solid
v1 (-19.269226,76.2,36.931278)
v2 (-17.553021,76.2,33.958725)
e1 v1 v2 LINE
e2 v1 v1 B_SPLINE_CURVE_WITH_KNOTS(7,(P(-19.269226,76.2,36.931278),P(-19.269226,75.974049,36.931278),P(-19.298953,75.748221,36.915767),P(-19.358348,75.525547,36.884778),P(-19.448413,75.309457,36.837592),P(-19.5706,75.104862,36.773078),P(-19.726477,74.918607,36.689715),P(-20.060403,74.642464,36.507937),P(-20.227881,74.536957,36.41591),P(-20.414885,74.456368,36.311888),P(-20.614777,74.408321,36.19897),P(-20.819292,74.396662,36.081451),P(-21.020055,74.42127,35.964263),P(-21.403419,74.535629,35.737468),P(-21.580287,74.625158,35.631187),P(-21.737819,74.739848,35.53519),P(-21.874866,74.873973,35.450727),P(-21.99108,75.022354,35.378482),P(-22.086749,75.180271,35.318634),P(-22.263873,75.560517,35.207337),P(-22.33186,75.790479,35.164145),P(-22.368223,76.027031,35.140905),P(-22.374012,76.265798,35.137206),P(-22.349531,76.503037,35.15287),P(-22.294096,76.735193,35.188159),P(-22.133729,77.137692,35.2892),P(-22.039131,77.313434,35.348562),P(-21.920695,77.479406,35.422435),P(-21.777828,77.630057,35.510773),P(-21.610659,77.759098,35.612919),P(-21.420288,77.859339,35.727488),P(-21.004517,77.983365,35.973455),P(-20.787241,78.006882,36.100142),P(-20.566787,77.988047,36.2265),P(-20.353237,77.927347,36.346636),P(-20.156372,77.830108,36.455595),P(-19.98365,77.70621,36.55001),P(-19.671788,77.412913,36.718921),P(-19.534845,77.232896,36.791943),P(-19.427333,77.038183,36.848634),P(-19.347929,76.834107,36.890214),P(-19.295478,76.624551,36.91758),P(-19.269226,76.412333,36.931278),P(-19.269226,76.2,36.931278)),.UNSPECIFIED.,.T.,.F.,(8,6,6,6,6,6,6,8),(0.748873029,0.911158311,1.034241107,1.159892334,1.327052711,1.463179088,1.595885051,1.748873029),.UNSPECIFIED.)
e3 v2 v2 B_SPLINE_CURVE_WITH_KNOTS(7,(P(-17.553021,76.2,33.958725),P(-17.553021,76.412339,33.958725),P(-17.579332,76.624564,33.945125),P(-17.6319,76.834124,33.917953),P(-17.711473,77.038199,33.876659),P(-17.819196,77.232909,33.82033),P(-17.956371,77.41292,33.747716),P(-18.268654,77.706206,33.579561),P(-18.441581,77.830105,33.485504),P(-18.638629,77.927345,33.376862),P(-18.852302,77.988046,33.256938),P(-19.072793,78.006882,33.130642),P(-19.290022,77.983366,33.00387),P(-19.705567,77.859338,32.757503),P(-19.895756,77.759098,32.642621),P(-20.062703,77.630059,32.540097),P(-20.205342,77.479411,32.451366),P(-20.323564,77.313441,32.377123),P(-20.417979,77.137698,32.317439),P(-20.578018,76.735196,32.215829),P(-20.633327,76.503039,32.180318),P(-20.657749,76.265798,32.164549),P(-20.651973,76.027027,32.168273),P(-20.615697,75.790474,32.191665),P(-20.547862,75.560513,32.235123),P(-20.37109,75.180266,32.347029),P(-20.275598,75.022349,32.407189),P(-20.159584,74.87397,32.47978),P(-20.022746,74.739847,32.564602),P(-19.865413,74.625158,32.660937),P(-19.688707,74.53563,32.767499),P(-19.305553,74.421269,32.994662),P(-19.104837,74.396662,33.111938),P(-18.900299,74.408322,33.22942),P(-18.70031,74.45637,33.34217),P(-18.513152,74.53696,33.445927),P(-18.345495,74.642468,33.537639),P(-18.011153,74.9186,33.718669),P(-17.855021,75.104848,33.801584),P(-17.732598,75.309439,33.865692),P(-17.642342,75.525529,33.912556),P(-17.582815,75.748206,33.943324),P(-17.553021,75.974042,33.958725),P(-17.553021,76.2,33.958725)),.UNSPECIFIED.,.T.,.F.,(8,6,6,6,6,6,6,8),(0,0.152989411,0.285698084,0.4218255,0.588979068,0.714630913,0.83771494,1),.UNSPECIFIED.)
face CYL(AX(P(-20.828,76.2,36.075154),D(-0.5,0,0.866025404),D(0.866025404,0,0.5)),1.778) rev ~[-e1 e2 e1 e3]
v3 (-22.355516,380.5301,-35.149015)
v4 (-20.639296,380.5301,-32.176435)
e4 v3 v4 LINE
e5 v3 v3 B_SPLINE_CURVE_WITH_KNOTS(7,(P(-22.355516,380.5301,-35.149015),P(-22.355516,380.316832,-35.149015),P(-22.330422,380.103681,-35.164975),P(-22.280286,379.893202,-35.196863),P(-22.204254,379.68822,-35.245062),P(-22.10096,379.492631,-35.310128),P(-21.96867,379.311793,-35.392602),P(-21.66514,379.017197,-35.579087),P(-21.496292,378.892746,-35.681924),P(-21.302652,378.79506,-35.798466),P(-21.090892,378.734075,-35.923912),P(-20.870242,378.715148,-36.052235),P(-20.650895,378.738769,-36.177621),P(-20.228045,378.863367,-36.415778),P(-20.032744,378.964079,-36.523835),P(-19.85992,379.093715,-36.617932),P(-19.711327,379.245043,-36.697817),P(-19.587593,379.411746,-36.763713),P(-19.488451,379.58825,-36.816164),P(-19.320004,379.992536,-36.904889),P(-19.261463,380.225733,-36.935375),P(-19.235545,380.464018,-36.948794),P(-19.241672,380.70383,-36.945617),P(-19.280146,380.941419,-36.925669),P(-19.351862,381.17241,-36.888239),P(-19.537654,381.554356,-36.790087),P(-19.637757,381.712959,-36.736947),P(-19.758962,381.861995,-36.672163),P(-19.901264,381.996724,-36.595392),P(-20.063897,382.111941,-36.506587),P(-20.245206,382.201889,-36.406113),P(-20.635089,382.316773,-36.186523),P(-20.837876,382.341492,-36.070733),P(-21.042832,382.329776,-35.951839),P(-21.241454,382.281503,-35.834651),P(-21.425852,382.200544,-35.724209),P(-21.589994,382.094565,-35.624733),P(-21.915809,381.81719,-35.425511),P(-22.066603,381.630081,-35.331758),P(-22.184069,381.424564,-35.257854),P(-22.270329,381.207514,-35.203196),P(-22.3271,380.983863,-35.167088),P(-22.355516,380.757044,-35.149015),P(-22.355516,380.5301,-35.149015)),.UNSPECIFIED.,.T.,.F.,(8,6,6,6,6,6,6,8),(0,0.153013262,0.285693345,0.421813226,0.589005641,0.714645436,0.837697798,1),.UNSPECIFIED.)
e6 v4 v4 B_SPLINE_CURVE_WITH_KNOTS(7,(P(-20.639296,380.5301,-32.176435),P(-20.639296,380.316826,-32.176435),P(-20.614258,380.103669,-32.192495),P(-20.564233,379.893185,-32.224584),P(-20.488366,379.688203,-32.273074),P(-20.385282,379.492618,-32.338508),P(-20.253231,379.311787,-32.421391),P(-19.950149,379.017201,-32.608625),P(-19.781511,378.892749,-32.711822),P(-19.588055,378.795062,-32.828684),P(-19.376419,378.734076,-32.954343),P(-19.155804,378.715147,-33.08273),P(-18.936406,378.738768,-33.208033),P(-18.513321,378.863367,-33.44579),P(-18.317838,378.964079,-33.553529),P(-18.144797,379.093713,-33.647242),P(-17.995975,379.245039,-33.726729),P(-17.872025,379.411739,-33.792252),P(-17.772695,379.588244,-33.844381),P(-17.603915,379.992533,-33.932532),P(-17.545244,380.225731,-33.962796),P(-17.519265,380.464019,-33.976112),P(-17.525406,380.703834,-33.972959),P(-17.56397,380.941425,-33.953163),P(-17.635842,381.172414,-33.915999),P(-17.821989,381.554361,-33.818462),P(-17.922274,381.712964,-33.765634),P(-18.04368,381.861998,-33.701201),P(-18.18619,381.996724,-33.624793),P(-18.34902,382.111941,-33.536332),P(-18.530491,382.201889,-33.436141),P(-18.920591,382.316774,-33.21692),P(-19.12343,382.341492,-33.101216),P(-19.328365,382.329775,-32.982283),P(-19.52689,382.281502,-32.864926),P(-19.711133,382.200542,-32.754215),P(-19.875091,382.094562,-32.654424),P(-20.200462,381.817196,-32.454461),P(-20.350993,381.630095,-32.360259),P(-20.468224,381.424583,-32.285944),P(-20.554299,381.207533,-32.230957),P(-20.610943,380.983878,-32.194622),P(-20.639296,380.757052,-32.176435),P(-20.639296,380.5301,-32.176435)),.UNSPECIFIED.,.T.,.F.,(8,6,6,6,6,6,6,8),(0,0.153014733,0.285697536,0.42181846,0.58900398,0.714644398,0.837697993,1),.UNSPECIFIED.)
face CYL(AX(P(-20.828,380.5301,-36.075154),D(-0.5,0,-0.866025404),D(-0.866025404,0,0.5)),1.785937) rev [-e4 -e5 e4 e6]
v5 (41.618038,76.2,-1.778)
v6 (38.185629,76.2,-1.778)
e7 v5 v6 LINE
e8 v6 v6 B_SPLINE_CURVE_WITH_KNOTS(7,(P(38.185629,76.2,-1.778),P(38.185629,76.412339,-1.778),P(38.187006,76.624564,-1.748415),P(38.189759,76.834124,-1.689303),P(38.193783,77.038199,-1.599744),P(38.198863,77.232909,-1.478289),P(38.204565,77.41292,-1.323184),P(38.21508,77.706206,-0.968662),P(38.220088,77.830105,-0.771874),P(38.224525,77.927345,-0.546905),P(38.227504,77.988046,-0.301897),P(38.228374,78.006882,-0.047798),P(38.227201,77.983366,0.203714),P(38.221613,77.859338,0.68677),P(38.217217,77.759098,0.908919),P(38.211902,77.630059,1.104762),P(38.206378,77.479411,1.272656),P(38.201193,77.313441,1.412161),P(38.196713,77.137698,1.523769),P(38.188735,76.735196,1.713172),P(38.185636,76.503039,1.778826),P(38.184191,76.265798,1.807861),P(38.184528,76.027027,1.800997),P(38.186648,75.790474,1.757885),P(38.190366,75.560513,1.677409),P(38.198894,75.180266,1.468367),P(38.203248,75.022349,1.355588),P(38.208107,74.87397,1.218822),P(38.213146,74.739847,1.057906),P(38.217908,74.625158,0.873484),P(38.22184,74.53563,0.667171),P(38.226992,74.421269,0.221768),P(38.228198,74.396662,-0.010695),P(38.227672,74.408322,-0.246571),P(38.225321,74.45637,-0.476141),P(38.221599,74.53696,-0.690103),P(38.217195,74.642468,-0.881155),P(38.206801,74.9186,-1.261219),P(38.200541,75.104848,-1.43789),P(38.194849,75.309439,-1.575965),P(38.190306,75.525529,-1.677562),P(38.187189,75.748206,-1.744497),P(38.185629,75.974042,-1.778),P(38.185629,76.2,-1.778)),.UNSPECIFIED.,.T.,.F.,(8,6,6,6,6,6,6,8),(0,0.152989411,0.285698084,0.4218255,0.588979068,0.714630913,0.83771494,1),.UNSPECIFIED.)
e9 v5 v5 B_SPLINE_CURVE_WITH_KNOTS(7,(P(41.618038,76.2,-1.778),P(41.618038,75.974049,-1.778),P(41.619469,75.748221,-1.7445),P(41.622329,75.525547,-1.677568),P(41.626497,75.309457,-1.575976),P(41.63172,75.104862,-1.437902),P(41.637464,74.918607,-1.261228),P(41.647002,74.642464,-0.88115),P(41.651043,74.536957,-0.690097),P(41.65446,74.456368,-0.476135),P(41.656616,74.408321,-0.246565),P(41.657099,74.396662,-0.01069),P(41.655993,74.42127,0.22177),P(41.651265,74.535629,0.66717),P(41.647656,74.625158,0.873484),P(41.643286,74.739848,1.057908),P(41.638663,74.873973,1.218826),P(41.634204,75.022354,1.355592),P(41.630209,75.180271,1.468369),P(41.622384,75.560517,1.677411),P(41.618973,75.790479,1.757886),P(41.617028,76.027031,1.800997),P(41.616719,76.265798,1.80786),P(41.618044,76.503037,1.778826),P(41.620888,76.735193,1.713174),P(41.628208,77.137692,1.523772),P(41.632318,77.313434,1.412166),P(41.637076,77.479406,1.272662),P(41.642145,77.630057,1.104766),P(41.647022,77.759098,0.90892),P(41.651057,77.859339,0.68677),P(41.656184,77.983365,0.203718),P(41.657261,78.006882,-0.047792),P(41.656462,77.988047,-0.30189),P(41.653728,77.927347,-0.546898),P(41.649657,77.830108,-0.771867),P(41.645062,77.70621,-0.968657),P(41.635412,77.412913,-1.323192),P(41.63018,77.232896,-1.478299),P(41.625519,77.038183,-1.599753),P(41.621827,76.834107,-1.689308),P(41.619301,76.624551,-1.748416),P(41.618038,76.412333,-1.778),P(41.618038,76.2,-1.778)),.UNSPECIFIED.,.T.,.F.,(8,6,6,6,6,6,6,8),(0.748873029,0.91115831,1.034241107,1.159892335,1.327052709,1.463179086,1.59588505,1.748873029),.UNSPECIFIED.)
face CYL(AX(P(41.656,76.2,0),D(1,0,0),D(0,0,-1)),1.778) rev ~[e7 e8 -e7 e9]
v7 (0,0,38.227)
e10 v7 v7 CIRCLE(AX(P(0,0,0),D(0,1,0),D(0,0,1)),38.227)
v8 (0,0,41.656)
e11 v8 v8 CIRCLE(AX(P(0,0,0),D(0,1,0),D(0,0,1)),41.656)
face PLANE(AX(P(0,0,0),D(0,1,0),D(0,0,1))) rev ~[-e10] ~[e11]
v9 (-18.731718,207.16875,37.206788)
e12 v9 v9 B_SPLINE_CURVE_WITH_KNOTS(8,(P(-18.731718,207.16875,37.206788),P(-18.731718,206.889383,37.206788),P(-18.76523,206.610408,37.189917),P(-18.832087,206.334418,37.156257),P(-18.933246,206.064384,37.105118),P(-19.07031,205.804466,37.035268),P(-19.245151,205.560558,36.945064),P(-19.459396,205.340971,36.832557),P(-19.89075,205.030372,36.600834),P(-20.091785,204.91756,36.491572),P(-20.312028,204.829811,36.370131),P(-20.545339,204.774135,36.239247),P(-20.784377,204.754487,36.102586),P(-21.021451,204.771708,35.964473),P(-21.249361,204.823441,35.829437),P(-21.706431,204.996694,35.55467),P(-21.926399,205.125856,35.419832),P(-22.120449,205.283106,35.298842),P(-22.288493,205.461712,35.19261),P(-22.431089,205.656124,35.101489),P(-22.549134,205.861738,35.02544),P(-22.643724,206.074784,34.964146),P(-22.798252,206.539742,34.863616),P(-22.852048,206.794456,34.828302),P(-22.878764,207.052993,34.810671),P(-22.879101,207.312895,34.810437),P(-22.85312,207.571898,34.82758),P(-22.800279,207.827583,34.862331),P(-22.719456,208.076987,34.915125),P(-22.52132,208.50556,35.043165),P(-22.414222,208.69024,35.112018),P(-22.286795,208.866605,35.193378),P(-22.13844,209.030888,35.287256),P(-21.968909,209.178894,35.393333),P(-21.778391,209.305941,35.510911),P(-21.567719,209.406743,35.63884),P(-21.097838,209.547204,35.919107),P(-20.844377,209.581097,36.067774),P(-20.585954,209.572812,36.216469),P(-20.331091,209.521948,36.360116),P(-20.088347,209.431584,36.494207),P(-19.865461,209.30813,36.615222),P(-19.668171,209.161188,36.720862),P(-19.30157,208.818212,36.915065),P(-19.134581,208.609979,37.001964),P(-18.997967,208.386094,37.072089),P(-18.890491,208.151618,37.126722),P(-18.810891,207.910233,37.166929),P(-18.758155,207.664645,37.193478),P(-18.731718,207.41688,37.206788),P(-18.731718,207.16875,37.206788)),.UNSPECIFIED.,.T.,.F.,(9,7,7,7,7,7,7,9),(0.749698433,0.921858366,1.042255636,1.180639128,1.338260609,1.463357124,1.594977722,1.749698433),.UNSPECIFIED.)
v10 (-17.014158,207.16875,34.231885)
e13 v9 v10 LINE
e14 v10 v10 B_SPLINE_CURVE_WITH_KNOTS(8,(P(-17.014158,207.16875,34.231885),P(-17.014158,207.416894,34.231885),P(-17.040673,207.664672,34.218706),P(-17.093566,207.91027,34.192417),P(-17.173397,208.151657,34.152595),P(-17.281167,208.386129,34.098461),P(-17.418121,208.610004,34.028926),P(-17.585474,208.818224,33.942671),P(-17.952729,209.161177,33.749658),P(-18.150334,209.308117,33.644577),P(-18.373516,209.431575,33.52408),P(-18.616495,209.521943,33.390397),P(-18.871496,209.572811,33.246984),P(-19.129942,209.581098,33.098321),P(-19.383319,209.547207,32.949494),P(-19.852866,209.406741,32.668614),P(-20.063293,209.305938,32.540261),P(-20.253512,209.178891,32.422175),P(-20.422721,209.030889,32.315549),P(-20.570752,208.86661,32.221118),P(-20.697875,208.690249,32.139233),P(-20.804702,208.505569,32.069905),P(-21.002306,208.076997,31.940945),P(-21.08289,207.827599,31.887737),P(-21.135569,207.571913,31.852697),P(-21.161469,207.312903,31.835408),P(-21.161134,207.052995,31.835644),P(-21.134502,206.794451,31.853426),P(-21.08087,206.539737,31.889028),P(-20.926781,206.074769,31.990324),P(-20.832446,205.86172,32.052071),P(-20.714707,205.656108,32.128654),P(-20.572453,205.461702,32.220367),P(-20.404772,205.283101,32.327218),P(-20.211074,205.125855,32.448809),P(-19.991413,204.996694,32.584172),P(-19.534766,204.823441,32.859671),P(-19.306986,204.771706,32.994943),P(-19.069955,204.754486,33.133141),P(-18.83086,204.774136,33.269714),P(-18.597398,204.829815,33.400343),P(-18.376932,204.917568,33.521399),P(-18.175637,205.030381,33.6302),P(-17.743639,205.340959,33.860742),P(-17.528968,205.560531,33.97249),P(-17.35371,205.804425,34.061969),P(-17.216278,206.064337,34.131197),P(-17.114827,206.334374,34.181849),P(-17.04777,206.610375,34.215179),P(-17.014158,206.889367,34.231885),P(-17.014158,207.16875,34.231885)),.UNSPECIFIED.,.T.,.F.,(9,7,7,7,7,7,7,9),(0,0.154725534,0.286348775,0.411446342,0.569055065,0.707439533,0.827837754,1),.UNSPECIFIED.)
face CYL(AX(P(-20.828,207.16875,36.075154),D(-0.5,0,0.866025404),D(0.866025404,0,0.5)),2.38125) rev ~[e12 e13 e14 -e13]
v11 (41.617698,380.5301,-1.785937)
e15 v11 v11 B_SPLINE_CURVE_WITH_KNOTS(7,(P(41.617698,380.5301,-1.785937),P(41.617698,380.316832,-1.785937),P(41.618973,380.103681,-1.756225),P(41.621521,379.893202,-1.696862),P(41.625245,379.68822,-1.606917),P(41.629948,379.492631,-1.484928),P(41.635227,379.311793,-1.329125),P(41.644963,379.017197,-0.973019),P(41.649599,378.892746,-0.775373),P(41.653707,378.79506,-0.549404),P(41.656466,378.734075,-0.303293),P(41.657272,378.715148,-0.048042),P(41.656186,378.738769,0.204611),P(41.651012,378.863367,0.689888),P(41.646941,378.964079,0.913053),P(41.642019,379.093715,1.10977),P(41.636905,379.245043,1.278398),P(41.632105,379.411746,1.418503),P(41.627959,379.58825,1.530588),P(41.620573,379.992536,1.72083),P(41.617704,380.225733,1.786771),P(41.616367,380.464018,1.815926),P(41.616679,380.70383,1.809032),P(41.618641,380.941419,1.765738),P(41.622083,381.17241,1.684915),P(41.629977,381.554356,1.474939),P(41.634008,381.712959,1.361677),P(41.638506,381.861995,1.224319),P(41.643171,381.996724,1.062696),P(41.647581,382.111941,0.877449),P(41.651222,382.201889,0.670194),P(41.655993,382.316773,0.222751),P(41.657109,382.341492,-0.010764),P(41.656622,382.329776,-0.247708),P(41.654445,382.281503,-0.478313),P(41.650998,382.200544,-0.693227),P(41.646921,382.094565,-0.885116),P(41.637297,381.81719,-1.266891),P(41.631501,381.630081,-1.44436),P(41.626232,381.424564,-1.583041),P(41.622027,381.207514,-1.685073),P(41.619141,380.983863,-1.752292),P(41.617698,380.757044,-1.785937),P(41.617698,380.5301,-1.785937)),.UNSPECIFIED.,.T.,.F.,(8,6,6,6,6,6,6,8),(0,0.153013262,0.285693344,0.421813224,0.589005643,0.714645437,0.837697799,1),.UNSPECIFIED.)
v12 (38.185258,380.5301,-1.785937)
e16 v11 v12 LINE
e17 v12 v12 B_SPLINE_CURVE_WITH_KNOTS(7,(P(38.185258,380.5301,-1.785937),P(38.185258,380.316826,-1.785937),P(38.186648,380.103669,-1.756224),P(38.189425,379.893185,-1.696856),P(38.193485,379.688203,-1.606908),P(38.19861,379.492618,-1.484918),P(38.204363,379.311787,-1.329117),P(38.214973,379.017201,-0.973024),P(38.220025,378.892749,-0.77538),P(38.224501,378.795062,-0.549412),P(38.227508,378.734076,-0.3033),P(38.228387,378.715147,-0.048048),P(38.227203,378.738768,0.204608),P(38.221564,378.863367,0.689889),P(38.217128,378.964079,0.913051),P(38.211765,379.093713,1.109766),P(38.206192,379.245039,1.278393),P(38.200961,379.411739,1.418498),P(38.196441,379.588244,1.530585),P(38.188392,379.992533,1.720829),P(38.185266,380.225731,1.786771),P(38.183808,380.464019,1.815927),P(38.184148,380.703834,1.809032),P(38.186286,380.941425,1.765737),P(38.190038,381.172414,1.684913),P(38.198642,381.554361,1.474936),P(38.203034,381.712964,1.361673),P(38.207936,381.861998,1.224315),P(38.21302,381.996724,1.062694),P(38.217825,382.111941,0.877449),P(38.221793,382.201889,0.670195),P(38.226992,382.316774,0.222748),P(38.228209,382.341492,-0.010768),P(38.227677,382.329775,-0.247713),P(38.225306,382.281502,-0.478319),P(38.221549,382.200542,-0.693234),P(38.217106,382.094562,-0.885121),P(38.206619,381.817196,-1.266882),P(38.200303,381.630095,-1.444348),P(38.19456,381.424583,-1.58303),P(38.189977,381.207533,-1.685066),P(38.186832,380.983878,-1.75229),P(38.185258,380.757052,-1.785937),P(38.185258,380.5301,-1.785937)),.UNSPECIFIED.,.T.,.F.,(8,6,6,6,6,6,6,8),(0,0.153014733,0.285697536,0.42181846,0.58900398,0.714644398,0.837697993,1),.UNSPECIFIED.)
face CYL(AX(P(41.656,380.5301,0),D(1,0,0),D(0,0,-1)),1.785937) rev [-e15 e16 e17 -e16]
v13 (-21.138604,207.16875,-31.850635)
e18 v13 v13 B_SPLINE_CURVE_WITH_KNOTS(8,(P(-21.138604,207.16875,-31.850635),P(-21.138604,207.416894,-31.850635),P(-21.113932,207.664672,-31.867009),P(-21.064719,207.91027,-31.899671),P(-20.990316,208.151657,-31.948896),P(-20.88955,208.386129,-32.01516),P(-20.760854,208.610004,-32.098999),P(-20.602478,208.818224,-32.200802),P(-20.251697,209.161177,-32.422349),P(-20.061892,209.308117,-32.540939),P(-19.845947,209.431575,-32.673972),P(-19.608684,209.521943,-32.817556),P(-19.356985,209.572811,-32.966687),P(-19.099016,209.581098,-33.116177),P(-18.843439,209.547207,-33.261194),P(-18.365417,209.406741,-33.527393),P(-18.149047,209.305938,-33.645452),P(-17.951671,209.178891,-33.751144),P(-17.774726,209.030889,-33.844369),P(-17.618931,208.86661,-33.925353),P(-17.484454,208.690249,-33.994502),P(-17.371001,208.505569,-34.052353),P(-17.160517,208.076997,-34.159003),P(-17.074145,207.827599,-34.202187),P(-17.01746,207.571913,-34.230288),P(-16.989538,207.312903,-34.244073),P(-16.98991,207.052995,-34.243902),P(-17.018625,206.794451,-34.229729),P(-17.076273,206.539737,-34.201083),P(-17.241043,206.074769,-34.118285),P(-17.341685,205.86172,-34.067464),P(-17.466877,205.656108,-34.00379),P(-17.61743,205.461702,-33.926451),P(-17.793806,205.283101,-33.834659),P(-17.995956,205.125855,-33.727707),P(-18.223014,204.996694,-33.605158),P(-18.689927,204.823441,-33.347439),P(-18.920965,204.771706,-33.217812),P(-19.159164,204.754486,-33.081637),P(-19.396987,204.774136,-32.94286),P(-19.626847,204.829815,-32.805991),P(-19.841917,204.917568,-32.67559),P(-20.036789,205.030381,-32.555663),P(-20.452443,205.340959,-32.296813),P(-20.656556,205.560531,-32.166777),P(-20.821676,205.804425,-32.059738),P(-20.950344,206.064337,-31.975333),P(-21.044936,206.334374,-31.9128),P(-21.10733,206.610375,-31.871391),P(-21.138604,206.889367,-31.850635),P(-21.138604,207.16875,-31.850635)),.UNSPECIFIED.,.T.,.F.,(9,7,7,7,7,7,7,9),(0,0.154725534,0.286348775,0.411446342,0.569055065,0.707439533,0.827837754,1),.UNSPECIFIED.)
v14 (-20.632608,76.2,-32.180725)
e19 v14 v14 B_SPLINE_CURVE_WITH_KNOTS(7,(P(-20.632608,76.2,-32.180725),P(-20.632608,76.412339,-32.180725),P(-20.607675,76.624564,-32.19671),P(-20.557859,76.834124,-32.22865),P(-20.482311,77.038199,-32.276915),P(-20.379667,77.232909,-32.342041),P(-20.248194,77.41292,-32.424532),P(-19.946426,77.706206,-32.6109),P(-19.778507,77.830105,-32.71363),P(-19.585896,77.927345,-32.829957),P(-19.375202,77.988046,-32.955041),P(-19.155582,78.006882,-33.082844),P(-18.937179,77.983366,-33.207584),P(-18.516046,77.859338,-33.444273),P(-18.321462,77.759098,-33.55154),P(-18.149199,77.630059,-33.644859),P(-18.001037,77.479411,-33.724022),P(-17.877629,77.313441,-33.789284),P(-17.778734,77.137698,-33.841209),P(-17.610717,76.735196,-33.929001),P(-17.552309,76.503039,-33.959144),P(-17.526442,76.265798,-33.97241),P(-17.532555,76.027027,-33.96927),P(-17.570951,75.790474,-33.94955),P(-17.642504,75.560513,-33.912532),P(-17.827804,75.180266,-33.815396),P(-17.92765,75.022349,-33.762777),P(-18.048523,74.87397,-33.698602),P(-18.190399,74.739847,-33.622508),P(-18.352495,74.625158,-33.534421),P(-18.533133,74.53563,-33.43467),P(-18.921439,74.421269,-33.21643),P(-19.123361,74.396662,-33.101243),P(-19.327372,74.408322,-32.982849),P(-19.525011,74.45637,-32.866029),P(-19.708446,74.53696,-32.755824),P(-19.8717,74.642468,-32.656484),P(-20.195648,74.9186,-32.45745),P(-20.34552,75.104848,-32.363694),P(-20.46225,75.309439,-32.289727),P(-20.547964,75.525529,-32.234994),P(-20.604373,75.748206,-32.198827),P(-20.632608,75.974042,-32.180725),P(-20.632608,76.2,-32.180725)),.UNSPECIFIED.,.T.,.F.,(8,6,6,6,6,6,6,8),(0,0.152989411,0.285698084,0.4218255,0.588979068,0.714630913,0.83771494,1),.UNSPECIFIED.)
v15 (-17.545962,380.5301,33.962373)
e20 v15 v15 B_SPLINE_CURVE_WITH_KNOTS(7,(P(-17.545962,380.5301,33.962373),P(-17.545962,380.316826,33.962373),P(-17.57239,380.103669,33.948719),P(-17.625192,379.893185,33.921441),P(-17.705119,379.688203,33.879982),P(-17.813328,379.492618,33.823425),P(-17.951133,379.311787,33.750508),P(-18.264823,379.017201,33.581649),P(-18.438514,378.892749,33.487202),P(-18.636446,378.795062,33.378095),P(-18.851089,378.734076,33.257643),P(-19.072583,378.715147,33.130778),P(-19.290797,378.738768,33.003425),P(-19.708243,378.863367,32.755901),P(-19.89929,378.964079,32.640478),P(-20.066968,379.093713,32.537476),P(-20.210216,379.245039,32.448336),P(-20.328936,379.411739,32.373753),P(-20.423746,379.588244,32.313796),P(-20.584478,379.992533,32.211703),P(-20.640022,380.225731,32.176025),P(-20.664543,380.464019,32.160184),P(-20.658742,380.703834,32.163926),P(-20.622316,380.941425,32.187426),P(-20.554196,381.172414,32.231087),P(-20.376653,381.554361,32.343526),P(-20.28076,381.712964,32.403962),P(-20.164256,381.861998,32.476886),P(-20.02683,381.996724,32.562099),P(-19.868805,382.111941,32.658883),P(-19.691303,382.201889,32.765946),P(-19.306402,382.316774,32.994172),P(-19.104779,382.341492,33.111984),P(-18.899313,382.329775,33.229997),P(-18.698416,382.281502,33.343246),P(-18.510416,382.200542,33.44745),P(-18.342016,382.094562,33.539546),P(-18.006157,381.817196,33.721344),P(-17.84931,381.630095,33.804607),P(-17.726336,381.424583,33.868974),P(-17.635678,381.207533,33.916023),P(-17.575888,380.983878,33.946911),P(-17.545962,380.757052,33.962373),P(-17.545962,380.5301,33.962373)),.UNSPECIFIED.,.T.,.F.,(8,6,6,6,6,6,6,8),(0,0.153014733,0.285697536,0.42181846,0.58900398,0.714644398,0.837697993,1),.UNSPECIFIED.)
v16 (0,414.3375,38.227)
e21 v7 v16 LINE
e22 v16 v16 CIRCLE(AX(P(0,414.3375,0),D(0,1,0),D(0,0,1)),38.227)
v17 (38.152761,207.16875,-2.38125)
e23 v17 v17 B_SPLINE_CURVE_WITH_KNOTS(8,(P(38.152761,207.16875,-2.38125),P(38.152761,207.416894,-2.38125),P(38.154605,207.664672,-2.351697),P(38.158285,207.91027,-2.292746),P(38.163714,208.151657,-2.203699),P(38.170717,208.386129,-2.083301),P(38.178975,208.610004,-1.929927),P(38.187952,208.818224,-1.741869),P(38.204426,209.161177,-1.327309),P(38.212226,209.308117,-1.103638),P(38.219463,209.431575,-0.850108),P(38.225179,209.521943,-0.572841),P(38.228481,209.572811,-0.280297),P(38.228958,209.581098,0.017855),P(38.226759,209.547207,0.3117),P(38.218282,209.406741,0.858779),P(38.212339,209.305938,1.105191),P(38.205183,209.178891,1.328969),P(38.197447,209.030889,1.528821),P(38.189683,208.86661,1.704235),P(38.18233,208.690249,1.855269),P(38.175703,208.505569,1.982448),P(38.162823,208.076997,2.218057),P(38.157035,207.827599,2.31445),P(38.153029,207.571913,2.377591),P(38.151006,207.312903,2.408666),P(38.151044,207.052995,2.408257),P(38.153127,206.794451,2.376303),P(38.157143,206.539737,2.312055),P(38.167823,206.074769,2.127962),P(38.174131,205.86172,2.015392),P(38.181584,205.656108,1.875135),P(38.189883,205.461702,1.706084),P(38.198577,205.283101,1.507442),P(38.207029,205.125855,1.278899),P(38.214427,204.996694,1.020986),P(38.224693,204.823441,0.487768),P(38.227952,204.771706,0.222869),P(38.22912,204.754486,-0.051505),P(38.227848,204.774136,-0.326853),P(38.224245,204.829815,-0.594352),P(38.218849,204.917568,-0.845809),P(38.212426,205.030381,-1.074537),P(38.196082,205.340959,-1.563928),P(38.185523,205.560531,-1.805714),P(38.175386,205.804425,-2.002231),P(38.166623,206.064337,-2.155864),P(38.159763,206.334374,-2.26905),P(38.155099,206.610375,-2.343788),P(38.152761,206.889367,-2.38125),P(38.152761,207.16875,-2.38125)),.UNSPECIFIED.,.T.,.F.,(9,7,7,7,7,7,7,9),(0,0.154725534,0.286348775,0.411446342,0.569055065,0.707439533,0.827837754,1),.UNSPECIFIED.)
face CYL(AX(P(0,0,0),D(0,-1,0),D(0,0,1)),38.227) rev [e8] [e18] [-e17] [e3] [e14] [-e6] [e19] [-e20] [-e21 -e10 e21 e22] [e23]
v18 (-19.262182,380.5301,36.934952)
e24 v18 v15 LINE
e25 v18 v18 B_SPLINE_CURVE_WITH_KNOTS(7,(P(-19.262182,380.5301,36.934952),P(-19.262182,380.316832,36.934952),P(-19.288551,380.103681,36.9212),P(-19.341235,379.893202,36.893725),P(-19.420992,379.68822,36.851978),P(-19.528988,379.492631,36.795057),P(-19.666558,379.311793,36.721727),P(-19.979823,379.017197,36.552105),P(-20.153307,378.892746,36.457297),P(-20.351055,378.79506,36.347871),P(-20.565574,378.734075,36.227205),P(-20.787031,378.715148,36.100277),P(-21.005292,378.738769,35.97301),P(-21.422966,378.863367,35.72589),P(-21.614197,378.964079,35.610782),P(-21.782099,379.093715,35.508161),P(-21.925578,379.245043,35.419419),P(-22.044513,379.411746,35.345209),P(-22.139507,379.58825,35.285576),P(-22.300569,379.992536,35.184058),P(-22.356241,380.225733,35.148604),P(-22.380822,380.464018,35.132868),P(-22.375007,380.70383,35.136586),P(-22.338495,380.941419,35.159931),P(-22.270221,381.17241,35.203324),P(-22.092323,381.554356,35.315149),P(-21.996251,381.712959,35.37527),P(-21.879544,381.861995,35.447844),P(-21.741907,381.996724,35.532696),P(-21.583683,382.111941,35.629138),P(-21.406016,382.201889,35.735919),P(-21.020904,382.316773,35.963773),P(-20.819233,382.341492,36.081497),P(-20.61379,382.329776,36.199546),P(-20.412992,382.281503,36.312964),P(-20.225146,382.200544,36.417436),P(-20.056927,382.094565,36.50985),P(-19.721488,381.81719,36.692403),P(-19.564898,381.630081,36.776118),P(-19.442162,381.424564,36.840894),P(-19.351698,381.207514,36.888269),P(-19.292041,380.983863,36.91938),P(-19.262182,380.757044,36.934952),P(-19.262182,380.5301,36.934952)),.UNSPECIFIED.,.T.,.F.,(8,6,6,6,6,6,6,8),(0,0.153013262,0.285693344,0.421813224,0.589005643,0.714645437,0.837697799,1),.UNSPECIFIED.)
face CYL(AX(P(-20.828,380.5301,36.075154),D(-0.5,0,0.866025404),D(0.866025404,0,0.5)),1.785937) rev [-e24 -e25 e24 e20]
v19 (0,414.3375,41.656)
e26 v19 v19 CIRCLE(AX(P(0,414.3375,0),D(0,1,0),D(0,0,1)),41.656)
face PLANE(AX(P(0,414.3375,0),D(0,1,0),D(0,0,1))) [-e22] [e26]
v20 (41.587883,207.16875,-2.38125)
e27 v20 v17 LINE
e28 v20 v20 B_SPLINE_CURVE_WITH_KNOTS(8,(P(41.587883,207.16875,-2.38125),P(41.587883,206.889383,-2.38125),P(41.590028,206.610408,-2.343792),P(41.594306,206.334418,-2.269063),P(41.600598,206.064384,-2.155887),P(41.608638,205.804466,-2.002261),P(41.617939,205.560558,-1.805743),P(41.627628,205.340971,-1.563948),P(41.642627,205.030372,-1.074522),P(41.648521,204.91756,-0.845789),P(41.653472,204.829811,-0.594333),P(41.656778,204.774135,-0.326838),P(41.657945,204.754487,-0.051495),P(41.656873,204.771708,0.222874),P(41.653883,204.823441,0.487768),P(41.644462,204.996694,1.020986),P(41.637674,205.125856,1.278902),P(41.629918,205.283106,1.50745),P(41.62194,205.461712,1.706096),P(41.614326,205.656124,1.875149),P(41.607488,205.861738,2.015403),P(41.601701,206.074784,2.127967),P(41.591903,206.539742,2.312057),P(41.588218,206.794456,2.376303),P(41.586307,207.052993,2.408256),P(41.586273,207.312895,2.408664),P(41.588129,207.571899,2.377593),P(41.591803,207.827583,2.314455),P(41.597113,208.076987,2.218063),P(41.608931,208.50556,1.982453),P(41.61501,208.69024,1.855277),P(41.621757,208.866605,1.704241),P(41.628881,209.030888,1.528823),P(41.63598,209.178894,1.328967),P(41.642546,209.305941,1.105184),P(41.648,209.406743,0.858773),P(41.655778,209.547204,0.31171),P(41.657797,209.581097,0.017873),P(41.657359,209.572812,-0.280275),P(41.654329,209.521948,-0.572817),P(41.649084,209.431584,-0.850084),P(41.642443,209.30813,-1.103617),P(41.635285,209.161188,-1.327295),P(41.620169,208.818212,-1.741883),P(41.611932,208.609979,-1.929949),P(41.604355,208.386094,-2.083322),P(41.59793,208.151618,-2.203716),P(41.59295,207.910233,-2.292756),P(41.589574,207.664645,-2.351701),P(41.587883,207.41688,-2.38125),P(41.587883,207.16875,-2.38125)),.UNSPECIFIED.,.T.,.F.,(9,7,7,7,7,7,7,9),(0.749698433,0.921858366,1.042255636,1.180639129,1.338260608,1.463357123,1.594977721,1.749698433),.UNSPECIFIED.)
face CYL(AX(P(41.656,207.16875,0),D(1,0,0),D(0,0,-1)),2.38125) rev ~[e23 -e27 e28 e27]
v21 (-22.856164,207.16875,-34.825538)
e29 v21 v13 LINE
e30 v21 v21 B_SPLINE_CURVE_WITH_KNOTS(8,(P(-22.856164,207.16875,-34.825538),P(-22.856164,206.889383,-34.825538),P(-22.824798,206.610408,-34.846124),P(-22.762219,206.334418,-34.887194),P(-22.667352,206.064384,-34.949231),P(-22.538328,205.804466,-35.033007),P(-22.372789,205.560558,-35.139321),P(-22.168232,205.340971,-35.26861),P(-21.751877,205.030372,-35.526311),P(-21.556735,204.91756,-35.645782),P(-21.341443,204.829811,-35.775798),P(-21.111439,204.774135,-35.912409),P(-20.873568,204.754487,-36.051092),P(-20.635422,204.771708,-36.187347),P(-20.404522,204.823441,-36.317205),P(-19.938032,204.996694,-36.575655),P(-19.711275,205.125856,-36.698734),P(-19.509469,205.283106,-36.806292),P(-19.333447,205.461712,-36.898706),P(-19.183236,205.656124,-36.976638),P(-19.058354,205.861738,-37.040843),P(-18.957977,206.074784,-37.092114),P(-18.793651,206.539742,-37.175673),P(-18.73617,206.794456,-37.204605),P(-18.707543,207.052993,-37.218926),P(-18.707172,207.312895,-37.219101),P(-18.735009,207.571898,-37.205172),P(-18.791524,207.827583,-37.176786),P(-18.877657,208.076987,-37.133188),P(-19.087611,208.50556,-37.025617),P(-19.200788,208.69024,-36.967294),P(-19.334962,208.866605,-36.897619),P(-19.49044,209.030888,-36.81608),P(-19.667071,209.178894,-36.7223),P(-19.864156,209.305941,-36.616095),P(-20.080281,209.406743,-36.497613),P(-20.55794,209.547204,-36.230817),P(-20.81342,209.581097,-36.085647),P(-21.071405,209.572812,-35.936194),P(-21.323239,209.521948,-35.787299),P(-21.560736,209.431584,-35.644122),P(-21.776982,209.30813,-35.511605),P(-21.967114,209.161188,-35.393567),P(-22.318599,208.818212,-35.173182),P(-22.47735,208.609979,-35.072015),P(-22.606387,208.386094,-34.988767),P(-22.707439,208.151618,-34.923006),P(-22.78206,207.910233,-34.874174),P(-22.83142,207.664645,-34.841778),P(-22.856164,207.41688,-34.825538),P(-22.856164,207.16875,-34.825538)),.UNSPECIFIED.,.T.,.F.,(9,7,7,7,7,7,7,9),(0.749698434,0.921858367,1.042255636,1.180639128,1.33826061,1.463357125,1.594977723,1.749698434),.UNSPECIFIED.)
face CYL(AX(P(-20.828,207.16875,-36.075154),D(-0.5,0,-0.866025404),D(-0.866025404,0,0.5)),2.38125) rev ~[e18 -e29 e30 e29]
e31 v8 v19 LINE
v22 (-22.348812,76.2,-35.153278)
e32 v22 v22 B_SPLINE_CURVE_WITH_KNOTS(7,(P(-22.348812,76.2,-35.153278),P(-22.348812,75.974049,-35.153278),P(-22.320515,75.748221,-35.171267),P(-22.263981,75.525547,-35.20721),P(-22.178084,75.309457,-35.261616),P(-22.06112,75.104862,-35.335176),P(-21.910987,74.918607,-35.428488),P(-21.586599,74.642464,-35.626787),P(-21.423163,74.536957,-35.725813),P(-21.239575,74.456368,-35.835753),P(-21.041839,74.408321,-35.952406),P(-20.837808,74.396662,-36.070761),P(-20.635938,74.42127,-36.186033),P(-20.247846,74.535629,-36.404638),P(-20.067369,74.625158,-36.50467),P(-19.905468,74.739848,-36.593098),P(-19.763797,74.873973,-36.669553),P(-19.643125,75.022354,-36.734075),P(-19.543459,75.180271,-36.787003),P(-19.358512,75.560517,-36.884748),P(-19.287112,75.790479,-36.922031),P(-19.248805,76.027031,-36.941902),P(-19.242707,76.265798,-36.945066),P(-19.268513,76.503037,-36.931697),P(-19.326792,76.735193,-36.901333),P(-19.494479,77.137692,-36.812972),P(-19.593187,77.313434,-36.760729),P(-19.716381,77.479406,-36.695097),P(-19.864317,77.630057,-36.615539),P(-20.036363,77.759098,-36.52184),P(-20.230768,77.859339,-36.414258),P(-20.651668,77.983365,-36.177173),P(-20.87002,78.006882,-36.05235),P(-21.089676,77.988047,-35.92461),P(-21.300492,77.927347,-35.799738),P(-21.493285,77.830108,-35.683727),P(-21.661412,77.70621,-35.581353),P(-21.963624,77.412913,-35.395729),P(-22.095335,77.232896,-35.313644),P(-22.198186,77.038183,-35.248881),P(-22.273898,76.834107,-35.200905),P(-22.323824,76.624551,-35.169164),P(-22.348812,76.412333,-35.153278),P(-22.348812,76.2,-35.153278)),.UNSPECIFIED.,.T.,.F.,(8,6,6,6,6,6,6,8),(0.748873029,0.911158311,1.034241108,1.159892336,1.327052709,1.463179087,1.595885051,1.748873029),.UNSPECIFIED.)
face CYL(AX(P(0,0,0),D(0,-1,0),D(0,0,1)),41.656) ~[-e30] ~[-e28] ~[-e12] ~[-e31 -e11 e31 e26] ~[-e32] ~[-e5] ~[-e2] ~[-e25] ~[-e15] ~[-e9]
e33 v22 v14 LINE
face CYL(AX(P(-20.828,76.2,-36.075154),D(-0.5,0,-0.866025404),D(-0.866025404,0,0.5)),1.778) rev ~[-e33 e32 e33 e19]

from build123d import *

# Parameters (mm, degrees)
SKETCH1_R                             = 41.656
SKETCH1_R_2                           = 38.227
BOSS_EXTRUDE1_DEPTH                   = 414.3375
CUT_EXTRUDE1_REACH                    = 428.171
CUT_EXTRUDE1_END_RADIUS               = 38.227
SKETCH2_R                             = 1.778
CIRPATTERN1_COUNT                     = 3
PRESSURE_EQUALIZATION_HOLE_REACH      = 428.171
PRESSURE_EQUALIZATION_HOLE_END_RADIUS = 38.227
SKETCH3_R                             = 2.38125
CIRPATTERN2_COUNT                     = 3
CUT_EXTRUDE3_REACH                    = 426.678
CUT_EXTRUDE3_END_RADIUS               = 38.227
SKETCH4_R                             = 1.7859375
CIRPATTERN3_COUNT                     = 3


with BuildPart() as part:
    # Sketch1 → Boss-Extrude1 (new body)
    with BuildSketch(Plane(origin=(0, 0, 0), x_dir=(1, 0, 0), z_dir=(0, 1, 0))):
        with Locations(Location((0, 0, 0), (0, 0, 270))):
            Circle(SKETCH1_R)
        with Locations(Location((0, 0, 0), (0, 0, 270))):
            Circle(SKETCH1_R_2, mode=Mode.SUBTRACT)
    extrude(amount=BOSS_EXTRUDE1_DEPTH)

    # Cut-Extrude1: up to this cylinder (the profile starts outside it)
    cut_extrude1_end = Plane(origin=(0, 76.2, 0), z_dir=(0, -1, 0)) * Cylinder(CUT_EXTRUDE1_END_RADIUS, 933.796, mode=Mode.PRIVATE)
    # Sketch2 → Cut-Extrude1 (cut, up to the surface)
    with BuildSketch(Plane(origin=(-20.828, 0, 36.07515422), x_dir=(0, -1, 0), z_dir=(-0.499999999999998, 0, 0.8660254037844398)), mode=Mode.PRIVATE) as cut_extrude1_sk1:
        with Locations(Location((-76.2, 0, 0), (0, 0, 90))):
            Circle(SKETCH2_R)
    cut_extrude1_tool1 = extrude(cut_extrude1_sk1.sketch, amount=-CUT_EXTRUDE1_REACH, mode=Mode.PRIVATE) - cut_extrude1_end
    cut_extrude1 = cut_extrude1_tool1.solids().sort_by_distance((-20.828, 76.2, 36.075154))[0]
    add(cut_extrude1, mode=Mode.SUBTRACT)

    # CirPattern1: Cut-Extrude1 ×3 about axis
    cirpattern1_axis = Axis((0, -7.62, 0), (0, 1, 0))
    for i in range(1, CIRPATTERN1_COUNT):
        add(cut_extrude1.rotate(cirpattern1_axis, i * 360 / CIRPATTERN1_COUNT), mode=Mode.SUBTRACT)

    # Pressure Equalization Hole: up to this cylinder (the profile starts outside it)
    pressure_equalization_hole_end = Plane(origin=(0, 207.16875, 0), z_dir=(0, -1, 0)) * Cylinder(PRESSURE_EQUALIZATION_HOLE_END_RADIUS, 933.796, mode=Mode.PRIVATE)
    # Sketch3 → Pressure Equalization Hole (cut, up to the surface)
    with BuildSketch(Plane(origin=(-20.828, 0, 36.07515422), x_dir=(0, -1, 0), z_dir=(-0.499999999999998, 0, 0.8660254037844398)), mode=Mode.PRIVATE) as pressure_equalization_hole_sk1:
        with Locations(Location((-207.16875, 0, 0), (0, 0, 90))):
            Circle(SKETCH3_R)
    pressure_equalization_hole_tool1 = extrude(pressure_equalization_hole_sk1.sketch, amount=-PRESSURE_EQUALIZATION_HOLE_REACH, mode=Mode.PRIVATE) - pressure_equalization_hole_end
    pressure_equalization_hole = pressure_equalization_hole_tool1.solids().sort_by_distance((-20.828, 207.16875, 36.075154))[0]
    add(pressure_equalization_hole, mode=Mode.SUBTRACT)

    # CirPattern2: Pressure Equalization Hole ×3 about axis
    cirpattern2_axis = Axis((0, -7.62, 0), (0, 1, 0))
    for i in range(1, CIRPATTERN2_COUNT):
        add(pressure_equalization_hole.rotate(cirpattern2_axis, i * 360 / CIRPATTERN2_COUNT), mode=Mode.SUBTRACT)

    # Cut-Extrude3: up to this cylinder (the profile starts outside it)
    cut_extrude3_end = Plane(origin=(0, 380.5301, 0), z_dir=(0, -1, 0)) * Cylinder(CUT_EXTRUDE3_END_RADIUS, 930.81, mode=Mode.PRIVATE)
    # Sketch4 → Cut-Extrude3 (cut, up to the surface)
    with BuildSketch(Plane(origin=(41.656, 0, 0), x_dir=(0, -1, 0), z_dir=(-1, 0, 0)), mode=Mode.PRIVATE) as cut_extrude3_sk1:
        with Locations(Location((-380.5301, 0, 0), (0, 0, 270))):
            Circle(SKETCH4_R)
    cut_extrude3_tool1 = extrude(cut_extrude3_sk1.sketch, amount=CUT_EXTRUDE3_REACH, mode=Mode.PRIVATE) - cut_extrude3_end
    cut_extrude3 = cut_extrude3_tool1.solids().sort_by_distance((41.656, 380.5301, 0))[0]
    add(cut_extrude3, mode=Mode.SUBTRACT)

    # CirPattern3: Cut-Extrude3 ×3 about axis
    cirpattern3_axis = Axis((0, -7.62, 0), (0, 1, 0))
    for i in range(1, CIRPATTERN3_COUNT):
        add(cut_extrude3.rotate(cirpattern3_axis, i * 360 / CIRPATTERN3_COUNT), mode=Mode.SUBTRACT)


solid = part.part
